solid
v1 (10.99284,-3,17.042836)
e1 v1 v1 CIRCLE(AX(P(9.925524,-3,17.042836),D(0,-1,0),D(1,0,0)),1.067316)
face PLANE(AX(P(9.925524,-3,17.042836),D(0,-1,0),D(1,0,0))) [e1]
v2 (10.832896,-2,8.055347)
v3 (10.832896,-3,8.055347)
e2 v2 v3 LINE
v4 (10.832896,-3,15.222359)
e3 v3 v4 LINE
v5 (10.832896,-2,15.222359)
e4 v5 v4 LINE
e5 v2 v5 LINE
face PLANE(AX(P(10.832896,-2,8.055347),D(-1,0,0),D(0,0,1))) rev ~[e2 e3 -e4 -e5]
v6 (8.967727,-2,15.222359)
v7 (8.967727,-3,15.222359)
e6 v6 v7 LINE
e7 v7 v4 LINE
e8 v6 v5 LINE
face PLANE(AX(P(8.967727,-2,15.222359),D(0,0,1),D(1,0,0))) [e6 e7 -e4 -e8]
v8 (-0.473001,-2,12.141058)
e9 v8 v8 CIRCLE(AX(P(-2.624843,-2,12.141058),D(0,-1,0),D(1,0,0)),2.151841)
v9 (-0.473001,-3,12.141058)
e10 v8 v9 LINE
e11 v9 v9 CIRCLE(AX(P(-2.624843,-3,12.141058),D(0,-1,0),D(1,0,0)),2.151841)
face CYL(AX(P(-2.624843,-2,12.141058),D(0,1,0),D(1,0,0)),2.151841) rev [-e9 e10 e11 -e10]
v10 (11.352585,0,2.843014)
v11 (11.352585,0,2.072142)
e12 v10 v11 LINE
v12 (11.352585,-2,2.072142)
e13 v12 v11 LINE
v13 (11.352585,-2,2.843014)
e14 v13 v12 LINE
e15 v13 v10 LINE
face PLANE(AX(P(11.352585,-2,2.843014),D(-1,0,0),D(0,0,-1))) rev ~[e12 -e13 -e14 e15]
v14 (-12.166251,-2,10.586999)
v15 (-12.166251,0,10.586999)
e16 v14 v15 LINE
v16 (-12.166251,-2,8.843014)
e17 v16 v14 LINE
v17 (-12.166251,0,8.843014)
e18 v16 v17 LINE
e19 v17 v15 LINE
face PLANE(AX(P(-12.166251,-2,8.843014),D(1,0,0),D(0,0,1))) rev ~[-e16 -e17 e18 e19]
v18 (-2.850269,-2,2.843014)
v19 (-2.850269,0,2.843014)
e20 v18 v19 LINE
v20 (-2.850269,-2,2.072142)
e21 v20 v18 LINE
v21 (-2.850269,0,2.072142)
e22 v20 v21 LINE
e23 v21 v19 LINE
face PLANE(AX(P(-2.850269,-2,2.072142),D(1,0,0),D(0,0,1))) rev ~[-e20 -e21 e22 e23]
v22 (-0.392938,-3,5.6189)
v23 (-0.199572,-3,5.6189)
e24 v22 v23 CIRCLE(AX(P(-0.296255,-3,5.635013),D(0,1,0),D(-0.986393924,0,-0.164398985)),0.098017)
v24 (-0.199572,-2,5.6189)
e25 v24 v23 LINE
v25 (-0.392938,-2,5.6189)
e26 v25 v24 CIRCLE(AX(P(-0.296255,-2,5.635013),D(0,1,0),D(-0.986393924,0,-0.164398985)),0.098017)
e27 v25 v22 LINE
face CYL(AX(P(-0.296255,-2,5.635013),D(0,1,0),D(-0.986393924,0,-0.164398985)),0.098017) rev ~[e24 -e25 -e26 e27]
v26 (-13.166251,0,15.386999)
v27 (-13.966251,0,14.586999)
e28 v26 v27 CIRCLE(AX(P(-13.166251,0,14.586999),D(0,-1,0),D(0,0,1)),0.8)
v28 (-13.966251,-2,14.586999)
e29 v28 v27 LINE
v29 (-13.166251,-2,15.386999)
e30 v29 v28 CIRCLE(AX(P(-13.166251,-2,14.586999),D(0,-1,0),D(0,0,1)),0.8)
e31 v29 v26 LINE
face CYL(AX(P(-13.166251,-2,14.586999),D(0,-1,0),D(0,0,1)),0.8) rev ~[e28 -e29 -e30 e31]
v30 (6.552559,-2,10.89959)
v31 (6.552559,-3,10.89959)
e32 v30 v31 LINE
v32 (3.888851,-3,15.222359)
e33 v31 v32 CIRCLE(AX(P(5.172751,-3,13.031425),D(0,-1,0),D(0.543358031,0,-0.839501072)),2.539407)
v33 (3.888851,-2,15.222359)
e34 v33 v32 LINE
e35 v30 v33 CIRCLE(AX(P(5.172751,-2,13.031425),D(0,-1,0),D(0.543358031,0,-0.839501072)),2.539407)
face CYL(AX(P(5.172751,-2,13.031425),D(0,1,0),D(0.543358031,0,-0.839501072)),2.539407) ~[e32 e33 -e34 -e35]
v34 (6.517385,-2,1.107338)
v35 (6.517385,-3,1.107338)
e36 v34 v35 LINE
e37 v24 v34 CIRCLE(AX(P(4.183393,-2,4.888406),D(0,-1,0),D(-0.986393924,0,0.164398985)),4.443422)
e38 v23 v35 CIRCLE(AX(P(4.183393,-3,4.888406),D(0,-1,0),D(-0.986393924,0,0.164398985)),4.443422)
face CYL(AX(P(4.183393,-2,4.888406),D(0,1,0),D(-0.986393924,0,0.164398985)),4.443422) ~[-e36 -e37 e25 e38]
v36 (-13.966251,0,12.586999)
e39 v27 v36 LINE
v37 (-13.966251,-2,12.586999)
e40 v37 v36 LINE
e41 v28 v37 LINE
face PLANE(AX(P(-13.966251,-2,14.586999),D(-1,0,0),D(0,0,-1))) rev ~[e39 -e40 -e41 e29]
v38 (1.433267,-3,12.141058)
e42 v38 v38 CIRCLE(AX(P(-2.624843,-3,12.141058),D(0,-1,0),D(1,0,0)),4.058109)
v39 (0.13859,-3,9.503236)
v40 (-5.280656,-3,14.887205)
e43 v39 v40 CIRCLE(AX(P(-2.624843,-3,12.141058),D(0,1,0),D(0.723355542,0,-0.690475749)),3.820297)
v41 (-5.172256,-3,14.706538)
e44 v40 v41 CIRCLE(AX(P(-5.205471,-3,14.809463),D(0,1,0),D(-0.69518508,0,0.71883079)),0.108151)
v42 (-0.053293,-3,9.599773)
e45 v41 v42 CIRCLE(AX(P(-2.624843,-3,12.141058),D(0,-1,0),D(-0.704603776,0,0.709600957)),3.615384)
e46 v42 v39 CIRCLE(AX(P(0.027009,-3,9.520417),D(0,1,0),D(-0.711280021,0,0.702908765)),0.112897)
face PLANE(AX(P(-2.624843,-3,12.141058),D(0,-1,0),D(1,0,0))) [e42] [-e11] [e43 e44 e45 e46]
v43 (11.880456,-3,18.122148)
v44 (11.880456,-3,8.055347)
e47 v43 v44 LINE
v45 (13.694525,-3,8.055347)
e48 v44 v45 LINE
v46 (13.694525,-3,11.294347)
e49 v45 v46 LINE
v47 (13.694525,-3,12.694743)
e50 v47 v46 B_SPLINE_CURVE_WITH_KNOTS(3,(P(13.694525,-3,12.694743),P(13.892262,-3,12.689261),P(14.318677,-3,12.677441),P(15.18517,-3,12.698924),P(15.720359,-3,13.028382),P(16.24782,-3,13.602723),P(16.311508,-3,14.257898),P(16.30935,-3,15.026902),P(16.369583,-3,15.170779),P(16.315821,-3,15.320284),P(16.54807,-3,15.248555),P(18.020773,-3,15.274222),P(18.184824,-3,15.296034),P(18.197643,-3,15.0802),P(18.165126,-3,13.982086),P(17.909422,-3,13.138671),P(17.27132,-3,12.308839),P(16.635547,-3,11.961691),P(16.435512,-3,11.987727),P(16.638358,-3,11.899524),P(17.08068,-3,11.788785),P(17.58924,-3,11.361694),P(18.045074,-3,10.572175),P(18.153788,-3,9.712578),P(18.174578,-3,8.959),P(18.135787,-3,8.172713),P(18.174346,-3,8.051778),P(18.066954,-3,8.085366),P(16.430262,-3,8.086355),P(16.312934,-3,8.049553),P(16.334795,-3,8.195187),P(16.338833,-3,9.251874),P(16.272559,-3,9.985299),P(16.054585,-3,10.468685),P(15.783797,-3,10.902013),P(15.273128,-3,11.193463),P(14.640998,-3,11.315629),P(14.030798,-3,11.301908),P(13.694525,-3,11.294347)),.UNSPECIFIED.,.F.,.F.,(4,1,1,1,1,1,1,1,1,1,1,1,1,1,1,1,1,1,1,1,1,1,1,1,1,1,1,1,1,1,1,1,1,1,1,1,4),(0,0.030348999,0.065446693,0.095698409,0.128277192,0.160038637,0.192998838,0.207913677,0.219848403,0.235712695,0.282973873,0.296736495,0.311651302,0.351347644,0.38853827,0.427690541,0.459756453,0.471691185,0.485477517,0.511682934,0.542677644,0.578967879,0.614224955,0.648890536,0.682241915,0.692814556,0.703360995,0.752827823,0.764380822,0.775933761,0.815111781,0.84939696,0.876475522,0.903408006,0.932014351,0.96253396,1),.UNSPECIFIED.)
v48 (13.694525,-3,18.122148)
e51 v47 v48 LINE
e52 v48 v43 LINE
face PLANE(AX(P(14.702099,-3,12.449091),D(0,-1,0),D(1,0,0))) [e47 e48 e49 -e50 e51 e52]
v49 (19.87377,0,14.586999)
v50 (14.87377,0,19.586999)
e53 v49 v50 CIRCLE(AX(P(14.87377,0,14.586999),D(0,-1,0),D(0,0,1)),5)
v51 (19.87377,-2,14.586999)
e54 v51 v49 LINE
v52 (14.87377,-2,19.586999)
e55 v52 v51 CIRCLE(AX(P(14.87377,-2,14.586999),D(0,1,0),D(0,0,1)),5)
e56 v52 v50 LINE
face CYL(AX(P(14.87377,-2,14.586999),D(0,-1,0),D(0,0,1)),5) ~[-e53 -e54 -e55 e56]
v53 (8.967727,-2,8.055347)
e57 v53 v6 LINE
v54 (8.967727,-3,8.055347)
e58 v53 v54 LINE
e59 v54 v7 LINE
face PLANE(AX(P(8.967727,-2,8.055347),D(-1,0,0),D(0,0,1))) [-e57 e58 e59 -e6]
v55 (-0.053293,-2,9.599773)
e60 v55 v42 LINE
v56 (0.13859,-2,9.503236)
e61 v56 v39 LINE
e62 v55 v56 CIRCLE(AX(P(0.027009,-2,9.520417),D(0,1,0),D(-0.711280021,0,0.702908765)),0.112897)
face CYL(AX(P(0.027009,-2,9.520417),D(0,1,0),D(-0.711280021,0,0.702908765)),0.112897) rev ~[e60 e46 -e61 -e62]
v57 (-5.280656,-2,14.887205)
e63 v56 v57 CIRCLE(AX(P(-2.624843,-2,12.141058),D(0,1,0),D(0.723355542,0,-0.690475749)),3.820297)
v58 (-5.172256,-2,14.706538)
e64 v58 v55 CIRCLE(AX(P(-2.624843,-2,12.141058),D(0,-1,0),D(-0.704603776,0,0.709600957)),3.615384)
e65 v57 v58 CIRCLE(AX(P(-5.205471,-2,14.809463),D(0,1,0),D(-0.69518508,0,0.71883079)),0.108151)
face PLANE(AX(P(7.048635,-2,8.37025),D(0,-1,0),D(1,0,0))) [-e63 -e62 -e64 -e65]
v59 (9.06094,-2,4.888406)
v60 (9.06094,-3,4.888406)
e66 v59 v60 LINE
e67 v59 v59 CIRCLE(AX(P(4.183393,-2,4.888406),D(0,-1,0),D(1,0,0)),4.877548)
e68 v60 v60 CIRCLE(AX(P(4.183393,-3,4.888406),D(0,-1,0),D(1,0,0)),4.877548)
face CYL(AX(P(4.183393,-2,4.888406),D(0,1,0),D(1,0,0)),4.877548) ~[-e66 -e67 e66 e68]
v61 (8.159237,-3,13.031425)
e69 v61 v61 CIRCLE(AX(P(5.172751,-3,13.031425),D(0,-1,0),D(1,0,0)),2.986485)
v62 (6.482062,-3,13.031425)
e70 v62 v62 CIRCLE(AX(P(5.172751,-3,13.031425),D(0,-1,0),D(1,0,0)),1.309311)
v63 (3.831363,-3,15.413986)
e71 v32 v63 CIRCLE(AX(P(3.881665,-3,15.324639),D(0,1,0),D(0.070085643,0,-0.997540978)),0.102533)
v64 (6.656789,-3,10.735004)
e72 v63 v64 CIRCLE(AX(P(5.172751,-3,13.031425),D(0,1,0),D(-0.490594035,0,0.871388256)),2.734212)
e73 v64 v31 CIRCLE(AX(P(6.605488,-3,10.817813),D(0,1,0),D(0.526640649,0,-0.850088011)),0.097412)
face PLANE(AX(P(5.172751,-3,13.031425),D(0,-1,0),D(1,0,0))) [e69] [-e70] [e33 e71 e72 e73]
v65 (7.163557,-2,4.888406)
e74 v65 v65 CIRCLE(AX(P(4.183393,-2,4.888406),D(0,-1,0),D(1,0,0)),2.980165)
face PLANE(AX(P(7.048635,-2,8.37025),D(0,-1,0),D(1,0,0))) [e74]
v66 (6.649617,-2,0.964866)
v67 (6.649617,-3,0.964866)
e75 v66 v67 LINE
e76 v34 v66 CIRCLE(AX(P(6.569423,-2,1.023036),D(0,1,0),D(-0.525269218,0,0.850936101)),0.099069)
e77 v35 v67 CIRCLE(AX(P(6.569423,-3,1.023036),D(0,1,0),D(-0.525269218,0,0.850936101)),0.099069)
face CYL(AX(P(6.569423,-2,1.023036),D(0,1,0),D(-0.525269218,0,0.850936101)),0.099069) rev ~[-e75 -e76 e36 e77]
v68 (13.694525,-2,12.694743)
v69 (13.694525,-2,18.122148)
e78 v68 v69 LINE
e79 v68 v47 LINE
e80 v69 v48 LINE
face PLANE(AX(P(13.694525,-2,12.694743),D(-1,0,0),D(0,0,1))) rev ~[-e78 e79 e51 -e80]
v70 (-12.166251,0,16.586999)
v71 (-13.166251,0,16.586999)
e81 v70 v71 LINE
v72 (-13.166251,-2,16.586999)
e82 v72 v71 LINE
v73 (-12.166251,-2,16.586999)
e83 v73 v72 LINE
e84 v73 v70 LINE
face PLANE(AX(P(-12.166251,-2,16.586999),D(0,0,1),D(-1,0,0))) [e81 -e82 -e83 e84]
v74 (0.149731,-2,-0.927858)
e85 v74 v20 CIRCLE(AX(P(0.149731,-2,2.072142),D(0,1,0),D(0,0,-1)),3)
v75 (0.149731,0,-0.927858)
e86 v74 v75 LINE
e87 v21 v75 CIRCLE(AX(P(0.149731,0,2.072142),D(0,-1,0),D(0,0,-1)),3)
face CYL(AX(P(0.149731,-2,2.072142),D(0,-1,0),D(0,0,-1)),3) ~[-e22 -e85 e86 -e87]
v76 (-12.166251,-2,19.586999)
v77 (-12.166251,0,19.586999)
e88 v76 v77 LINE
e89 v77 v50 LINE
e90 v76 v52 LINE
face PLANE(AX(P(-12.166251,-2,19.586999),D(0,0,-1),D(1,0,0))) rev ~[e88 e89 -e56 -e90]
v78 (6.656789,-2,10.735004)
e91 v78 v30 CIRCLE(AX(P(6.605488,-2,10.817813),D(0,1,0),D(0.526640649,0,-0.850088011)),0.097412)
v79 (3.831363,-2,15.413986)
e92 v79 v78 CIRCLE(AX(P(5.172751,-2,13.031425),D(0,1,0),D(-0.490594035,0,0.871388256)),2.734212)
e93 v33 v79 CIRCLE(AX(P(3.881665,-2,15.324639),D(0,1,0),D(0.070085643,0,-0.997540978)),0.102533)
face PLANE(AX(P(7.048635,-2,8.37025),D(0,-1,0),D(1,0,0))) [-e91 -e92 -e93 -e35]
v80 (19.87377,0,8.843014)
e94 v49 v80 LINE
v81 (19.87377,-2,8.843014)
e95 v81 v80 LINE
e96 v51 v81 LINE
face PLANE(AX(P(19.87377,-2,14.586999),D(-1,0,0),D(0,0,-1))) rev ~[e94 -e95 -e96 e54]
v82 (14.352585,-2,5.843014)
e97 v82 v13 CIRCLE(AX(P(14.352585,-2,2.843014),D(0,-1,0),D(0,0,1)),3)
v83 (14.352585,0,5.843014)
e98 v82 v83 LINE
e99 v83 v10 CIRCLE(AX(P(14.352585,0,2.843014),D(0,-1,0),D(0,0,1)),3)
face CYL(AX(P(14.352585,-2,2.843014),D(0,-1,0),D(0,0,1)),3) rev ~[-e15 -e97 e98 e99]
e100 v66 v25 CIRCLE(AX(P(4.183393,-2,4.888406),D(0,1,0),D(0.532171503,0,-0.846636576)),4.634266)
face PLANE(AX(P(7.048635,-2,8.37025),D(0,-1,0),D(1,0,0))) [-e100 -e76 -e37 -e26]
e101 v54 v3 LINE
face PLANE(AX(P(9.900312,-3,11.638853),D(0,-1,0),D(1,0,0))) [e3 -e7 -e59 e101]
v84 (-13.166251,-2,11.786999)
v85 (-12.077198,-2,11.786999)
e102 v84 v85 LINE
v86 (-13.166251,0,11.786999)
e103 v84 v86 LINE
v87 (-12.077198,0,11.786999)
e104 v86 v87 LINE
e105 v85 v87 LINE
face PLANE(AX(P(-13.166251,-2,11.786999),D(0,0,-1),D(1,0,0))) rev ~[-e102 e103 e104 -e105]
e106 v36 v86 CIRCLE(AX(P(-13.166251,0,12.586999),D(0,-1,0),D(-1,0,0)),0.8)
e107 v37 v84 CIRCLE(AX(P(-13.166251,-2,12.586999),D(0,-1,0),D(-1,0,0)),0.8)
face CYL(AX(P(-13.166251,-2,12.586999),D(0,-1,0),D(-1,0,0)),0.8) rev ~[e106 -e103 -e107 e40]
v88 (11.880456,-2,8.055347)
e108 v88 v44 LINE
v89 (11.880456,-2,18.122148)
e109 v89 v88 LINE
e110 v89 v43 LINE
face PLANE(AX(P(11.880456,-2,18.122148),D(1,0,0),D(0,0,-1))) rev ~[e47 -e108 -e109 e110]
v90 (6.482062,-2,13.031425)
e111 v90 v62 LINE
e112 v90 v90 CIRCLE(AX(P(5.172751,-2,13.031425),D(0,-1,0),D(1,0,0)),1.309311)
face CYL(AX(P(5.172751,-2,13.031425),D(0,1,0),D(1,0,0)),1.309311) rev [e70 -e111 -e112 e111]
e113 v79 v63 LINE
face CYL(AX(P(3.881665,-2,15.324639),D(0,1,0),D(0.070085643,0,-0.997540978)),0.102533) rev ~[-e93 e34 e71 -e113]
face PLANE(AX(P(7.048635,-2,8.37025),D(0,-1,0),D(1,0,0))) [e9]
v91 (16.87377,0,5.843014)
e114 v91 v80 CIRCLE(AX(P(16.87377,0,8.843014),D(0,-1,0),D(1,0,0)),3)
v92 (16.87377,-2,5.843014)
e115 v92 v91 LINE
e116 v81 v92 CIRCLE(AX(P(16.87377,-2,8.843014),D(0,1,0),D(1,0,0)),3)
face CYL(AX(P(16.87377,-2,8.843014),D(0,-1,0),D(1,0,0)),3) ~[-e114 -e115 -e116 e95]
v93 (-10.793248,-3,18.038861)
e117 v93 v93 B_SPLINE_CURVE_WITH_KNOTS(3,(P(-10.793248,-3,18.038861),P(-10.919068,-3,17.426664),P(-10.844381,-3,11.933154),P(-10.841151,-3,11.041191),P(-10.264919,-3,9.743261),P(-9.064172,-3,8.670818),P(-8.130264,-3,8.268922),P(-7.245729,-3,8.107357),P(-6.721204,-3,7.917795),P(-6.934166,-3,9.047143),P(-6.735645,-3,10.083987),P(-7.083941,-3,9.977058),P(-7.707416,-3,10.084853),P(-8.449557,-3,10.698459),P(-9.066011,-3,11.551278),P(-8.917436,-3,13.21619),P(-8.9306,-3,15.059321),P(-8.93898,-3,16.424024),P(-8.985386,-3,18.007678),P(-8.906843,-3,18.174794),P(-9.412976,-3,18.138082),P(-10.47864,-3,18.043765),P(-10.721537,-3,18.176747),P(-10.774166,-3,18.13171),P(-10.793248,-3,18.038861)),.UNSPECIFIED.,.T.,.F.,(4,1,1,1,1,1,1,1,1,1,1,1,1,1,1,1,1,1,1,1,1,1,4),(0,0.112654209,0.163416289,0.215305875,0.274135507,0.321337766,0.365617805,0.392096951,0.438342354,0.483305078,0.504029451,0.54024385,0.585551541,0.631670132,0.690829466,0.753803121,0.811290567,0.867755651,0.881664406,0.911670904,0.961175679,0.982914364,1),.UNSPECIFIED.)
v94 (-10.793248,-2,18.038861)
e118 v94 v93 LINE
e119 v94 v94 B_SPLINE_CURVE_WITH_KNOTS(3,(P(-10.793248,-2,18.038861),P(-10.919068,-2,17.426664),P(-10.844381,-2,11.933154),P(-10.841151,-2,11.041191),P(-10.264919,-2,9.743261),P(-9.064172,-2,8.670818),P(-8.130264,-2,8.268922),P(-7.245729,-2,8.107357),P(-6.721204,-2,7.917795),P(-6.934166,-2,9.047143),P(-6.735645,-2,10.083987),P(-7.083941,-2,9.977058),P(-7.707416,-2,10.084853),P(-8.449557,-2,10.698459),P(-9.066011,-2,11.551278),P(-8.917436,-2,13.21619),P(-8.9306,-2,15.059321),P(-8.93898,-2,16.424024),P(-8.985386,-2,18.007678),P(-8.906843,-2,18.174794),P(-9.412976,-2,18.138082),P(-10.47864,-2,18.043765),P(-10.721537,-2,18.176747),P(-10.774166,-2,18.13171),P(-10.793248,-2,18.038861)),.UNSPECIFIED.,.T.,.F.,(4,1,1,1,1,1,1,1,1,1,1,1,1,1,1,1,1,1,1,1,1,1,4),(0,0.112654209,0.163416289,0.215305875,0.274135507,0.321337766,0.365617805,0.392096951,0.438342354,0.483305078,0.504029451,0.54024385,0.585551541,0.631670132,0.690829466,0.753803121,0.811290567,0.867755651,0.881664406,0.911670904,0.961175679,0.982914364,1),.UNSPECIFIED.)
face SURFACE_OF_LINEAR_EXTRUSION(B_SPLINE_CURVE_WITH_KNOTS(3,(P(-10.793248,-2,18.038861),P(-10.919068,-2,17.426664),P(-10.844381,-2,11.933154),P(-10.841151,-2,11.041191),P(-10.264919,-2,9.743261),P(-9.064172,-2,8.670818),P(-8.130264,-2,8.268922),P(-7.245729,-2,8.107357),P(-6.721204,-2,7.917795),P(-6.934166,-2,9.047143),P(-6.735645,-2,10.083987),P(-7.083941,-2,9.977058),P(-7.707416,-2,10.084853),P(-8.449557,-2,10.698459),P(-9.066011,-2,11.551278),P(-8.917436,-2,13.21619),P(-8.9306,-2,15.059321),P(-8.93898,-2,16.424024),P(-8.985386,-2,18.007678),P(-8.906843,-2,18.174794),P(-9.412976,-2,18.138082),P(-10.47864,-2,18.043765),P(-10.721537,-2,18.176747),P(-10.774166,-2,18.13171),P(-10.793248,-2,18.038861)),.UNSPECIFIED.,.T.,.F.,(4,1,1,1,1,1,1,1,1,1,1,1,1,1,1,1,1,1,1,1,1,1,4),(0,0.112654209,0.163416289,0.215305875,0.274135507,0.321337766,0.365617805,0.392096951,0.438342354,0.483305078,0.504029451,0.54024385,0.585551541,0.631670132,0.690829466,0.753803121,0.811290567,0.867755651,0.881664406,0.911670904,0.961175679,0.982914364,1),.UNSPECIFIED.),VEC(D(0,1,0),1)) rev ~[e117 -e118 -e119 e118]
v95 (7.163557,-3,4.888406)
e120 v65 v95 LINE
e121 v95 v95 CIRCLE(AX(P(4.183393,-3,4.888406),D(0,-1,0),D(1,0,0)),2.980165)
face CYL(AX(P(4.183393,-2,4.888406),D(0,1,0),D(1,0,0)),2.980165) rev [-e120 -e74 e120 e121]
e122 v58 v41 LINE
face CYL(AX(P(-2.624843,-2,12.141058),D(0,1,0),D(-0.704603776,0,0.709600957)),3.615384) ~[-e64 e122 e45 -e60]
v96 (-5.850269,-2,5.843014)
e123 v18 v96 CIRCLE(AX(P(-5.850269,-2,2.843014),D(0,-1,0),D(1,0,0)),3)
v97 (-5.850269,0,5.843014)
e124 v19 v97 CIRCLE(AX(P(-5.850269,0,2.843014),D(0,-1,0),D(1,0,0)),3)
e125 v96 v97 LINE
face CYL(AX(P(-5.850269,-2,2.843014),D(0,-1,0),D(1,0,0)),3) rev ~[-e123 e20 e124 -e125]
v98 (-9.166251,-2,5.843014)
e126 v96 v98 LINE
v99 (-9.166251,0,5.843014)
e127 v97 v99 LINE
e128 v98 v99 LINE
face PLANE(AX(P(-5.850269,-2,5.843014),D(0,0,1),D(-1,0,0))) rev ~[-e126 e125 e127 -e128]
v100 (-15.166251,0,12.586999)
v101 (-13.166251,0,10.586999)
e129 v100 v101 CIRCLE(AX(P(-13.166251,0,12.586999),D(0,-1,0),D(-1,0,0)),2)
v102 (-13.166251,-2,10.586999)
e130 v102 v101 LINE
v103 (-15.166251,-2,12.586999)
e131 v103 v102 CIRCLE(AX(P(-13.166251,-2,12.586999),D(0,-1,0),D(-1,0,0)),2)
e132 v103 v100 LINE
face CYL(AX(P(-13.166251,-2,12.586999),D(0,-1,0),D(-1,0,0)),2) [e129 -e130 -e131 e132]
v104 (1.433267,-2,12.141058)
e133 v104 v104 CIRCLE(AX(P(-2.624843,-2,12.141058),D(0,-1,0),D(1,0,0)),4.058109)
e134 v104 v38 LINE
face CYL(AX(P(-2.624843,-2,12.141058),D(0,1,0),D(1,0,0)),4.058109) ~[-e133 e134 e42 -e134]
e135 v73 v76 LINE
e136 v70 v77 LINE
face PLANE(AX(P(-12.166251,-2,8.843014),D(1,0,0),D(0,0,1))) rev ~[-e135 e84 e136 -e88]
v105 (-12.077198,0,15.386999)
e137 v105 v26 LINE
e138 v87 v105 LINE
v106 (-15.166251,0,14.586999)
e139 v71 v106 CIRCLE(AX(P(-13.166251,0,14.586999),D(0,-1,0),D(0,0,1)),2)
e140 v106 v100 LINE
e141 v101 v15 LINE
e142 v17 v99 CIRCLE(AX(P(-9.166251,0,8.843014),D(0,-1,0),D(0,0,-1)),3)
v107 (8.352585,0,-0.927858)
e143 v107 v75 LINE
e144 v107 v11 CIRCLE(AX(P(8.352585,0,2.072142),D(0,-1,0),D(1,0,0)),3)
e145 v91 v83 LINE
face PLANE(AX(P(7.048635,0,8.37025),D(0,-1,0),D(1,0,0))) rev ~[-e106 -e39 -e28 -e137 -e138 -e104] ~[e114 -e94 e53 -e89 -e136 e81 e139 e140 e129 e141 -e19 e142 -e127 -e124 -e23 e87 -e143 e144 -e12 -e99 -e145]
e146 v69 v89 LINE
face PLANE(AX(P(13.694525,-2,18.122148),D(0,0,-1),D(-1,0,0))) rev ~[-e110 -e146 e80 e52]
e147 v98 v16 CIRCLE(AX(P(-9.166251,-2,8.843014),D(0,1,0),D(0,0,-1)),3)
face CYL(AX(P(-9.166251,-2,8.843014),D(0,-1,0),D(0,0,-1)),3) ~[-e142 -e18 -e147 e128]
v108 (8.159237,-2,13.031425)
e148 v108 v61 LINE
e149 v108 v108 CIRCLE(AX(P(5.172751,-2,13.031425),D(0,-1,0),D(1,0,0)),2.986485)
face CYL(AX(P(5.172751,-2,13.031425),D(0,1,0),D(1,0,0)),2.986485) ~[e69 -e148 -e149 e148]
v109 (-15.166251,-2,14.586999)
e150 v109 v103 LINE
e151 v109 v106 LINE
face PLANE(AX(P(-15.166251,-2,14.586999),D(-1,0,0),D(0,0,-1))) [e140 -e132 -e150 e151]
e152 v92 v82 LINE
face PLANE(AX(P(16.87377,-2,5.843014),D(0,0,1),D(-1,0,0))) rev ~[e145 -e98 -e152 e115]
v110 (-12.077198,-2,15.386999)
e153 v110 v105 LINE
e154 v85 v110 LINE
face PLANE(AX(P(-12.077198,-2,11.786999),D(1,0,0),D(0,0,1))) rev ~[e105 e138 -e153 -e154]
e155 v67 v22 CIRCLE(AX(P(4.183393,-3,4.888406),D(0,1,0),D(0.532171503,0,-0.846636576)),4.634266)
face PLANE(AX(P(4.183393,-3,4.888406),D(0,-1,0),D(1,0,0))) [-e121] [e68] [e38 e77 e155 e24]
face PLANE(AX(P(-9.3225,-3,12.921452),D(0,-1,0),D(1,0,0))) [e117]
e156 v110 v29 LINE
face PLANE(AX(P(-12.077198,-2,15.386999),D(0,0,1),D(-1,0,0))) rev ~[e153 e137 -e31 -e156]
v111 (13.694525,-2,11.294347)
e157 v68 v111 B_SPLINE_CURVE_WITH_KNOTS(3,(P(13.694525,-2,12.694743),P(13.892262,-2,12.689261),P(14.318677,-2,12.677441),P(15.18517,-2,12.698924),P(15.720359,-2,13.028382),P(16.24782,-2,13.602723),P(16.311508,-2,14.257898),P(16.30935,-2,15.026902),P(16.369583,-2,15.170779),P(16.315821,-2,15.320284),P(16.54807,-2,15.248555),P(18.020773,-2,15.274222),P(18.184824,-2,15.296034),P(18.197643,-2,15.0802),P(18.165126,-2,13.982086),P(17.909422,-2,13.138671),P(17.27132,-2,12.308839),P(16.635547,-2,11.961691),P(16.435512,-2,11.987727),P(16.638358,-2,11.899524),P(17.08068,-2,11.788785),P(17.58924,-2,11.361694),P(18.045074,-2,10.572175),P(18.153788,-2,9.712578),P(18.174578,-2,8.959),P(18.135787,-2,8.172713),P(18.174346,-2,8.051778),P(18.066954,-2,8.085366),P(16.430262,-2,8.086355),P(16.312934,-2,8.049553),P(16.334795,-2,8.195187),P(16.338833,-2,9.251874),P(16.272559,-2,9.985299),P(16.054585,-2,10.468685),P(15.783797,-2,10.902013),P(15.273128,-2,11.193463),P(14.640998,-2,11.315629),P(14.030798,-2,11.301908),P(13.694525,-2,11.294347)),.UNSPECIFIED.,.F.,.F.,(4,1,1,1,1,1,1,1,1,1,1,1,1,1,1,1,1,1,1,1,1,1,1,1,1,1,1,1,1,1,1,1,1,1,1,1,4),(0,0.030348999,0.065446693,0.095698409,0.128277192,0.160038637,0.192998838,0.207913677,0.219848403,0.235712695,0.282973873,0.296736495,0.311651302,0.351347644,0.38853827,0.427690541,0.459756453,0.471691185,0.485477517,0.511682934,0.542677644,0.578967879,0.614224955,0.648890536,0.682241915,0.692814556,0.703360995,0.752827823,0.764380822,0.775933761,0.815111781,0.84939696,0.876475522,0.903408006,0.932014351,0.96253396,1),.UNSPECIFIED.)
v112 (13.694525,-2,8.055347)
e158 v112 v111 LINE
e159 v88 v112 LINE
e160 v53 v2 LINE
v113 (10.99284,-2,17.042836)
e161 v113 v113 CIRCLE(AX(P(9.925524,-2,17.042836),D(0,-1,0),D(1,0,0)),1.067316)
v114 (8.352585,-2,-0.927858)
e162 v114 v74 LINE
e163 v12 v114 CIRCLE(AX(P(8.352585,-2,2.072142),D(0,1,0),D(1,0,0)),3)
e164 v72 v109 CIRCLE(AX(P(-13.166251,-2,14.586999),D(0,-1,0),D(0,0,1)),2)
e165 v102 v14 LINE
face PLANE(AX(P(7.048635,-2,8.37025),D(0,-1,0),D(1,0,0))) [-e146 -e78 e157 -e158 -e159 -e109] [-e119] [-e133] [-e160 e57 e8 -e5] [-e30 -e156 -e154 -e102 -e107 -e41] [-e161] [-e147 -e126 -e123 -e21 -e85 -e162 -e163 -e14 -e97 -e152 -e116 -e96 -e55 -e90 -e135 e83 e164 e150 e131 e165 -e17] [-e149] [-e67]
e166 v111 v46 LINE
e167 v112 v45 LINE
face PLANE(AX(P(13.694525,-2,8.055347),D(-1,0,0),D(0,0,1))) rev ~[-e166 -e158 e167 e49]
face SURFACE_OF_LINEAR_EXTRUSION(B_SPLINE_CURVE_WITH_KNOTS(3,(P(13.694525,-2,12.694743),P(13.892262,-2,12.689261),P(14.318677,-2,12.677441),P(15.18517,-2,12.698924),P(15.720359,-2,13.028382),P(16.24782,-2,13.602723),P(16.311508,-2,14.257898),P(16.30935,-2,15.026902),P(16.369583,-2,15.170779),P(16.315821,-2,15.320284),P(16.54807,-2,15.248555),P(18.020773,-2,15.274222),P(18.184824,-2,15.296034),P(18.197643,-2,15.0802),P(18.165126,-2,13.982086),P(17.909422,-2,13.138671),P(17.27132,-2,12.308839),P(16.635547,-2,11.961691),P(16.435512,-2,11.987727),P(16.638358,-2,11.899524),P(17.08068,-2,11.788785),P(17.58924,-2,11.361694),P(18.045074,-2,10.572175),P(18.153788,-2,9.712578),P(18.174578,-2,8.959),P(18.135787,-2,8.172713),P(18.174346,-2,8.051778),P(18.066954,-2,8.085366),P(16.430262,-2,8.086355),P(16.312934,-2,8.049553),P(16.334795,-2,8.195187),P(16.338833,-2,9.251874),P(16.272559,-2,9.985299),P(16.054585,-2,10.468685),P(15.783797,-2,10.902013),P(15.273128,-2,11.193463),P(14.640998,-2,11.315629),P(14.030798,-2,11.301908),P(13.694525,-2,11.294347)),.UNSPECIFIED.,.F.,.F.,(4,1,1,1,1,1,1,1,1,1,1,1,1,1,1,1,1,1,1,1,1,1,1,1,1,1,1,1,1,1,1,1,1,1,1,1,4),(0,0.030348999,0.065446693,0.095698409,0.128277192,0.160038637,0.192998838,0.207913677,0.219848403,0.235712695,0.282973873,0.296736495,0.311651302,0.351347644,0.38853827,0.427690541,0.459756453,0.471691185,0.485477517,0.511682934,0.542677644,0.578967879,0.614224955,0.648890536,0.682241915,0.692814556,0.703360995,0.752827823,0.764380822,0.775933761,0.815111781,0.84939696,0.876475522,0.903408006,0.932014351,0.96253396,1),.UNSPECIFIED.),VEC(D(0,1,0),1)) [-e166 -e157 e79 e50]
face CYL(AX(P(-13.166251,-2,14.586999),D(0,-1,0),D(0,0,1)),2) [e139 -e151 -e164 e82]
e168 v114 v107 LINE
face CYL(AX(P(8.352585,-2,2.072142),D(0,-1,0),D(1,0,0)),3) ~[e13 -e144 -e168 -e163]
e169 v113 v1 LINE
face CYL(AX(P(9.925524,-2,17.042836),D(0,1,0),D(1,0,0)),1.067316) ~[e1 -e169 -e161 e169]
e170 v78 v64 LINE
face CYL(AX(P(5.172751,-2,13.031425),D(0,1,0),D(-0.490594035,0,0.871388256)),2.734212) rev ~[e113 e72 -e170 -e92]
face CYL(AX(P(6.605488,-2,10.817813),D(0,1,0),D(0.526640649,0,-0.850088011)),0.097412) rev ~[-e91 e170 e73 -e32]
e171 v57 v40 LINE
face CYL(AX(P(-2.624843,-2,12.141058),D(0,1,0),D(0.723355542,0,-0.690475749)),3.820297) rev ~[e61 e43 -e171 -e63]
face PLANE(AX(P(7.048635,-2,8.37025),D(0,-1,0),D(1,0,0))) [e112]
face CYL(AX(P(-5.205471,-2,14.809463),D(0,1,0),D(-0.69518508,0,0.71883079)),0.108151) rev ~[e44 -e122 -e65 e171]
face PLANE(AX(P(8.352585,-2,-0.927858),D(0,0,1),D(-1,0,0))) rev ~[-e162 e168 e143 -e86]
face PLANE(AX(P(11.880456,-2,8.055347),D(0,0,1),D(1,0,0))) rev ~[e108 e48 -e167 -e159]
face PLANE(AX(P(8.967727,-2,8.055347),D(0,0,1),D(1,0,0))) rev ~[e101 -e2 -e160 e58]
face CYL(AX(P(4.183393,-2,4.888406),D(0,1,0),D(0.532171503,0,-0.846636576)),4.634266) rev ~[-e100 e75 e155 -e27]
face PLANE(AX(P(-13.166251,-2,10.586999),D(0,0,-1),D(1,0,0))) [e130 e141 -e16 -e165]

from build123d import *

# Parameters (mm, degrees)
F0_W     = 44.9469949032
F0_H     = 30
F1_DEPTH = 2
F2_W     = 1.8651690334
F2_H     = 7.1670114994
F2_R     = 1.067315765
F2_R_2   = 4.0581094523
F2_R_3   = 2.1518414097
F2_R_4   = 2.9864854467
F2_R_5   = 1.3093105905
F2_R_6   = 4.8775478885
F2_R_7   = 2.980164815
F3_DEPTH = 1
F4_W     = 57.7562209219
F4_H     = 35.8293848112
F5_DEPTH = 25
F7_DEPTH = 2
F9_DEPTH = 25


with BuildPart() as f1:
    # F0 (on Front) → F1 (new body)
    with BuildSketch(Plane.XZ):
        with Locations((7.0486348122, 8.3702504635)):
            Rectangle(F0_W, F0_H)
    extrude(amount=F1_DEPTH)

    # F2 (on face) → F3 (join)
    with BuildSketch(Plane.XZ.offset(2)):
        with Locations((9.9003119394, 11.6388527676)):
            Rectangle(F2_W, F2_H)
        with BuildLine():
            Line((13.694524765, 18.1221477687), (11.88045647, 18.1221477687))
            Line((11.88045647, 18.1221477687), (11.88045647, 8.0553470179))
            Line((11.88045647, 8.0553470179), (13.694524765, 8.0553470179))
            Line((13.694524765, 8.0553470179), (13.694524765, 11.2943472341))
            add(Edge.make_bspline(
                [(13.694524765, 12.6947425306), (13.8922622837, 12.6892612345), (14.3186772236, 12.6774409863), (15.1851700358, 12.698923905), (15.7203585152, 13.0283820708), (16.2478201859, 13.6027233466), (16.3115081909, 14.2578981166), (16.3093501538, 15.0269017308), (16.3695826075, 15.1707792062), (16.3158211879, 15.3202838057), (16.5480700556, 15.2485546915), (18.020772997, 15.2742221693), (18.1848235853, 15.2960336524), (18.197642655, 15.0802001649), (18.1651257533, 13.9820863427), (17.9094222924, 13.1386706467), (17.2713200103, 12.3088393669), (16.635547389, 11.9616905242), (16.4355119122, 11.9877272515), (16.6383577635, 11.8995242605), (17.0806802995, 11.7887847234), (17.5892396619, 11.3616944064), (18.0450740407, 10.5721746334), (18.1537878107, 9.712578281), (18.174578153, 8.9589996658), (18.1357866986, 8.1727128507), (18.1743463955, 8.0517775535), (18.0669540979, 8.0853657917), (16.4302617281, 8.086354645), (16.3129341368, 8.0495532269), (16.3347946696, 8.1951871638), (16.338832697, 9.2518740152), (16.2725591156, 9.985299174), (16.0545848736, 10.4686853224), (15.783796672, 10.902012743), (15.2731276001, 11.1934634572), (14.6409976969, 11.3156289767), (14.030798113, 11.3019084464), (13.694524765, 11.2943472341)],
                knots=[0, 0, 0, 0, 0.0303489992, 0.065446693, 0.0956984092, 0.1282771923, 0.1600386374, 0.1929988377, 0.2079136771, 0.2198484029, 0.2357126949, 0.2829738732, 0.2967364951, 0.3116513021, 0.3513476439, 0.3885382702, 0.4276905406, 0.4597564527, 0.4716911848, 0.4854775166, 0.5116829343, 0.5426776435, 0.5789678787, 0.6142249545, 0.648890536, 0.6822419151, 0.6928145557, 0.7033609953, 0.7528278233, 0.7643808218, 0.7759337613, 0.815111781, 0.8493969595, 0.8764755218, 0.9034080064, 0.9320143506, 0.9625339601, 1, 1, 1, 1], degree=3))
            Line((13.694524765, 12.6947425306), (13.694524765, 18.1221477687))
        make_face()
        with Locations((9.9255237728, 17.0428361744)):
            Circle(F2_R)
        with Locations((-2.6248428039, 12.1410582215)):
            Circle(F2_R_2)
        with BuildLine():
            ThreePointArc((0.1385901968, 9.5032357946), (-5.3173653139, 9.4308937177), (-5.2806562744, 14.8872053251))
            ThreePointArc((-5.2806562744, 14.8872053251), (-5.1127319183, 14.8651061977), (-5.1722559147, 14.7065380588))
            ThreePointArc((-5.1722559147, 14.7065380588), (-5.1782537396, 9.5815479272), (-0.0532925045, 9.5997732295))
            ThreePointArc((-0.0532925045, 9.5997732295), (0.0777480074, 9.621269385), (0.1385901968, 9.5032357946))
        make_face(mode=Mode.SUBTRACT)
        with Locations((-2.6248428039, 12.1410582215)):
            Circle(F2_R_3, mode=Mode.SUBTRACT)
        with Locations((5.1727513783, 13.0314249545)):
            Circle(F2_R_4)
        with Locations((5.1727513783, 13.0314249545)):
            Circle(F2_R_5, mode=Mode.SUBTRACT)
        with BuildLine():
            ThreePointArc((6.5525587239, 10.8995898137), (7.3346676268, 14.3636064411), (3.8888512645, 15.2223585173))
            ThreePointArc((3.8888512645, 15.2223585173), (3.7834563018, 15.2951767586), (3.8313630503, 15.4139855877))
            ThreePointArc((3.8313630503, 15.4139855877), (7.5133292064, 14.4447944205), (6.6567892055, 10.7350039251))
            ThreePointArc((6.6567892055, 10.7350039251), (6.5231912274, 10.765694724), (6.5525587239, 10.8995898137))
        make_face(mode=Mode.SUBTRACT)
        with Locations((4.1833925061, 4.8884055577)):
            Circle(F2_R_6)
        with BuildLine():
            ThreePointArc((-0.3929379745, 5.618899595), (-0.2962548824, 5.7330301584), (-0.1995717903, 5.618899595))
            ThreePointArc((-0.1995717903, 5.618899595), (1.7058697, 1.199790871), (6.5173852163, 1.1073375088))
            ThreePointArc((6.5173852163, 1.1073375088), (6.6420365244, 1.0904304538), (6.6496168589, 0.9648663839))
            ThreePointArc((6.6496168589, 0.9648663839), (1.6283693653, 1.0221051353), (-0.3929379745, 5.618899595))
        make_face(mode=Mode.SUBTRACT)
        with Locations((4.1833925061, 4.8884055577)):
            Circle(F2_R_7, mode=Mode.SUBTRACT)
        with BuildLine():
            add(Edge.make_bspline(
                [(-10.7932484683, 18.0388610897), (-10.9190678486, 17.4266640194), (-10.8443808651, 11.9331536963), (-10.8411514679, 11.0411914224), (-10.2649185813, 9.7432609879), (-9.0641718015, 8.6708184143), (-8.1302641868, 8.268921607), (-7.2457292345, 8.1073566872), (-6.7212035602, 7.9177950291), (-6.934165694, 9.047142527), (-6.7356445665, 10.08398688), (-7.0839413624, 9.977057832), (-7.7074156288, 10.0848533824), (-8.4495574452, 10.6984587807), (-9.0660107848, 11.5512781245), (-8.9174361668, 13.2161903268), (-8.9305999935, 15.0593214739), (-8.938980308, 16.4240235647), (-8.9853863781, 18.0076776154), (-8.9068434548, 18.174794211), (-9.412976346, 18.1380823461), (-10.4786403729, 18.0437646839), (-10.7215371373, 18.1767474153), (-10.7741661439, 18.1317096082), (-10.7932484683, 18.0388610897)],
                knots=[0, 0, 0, 0, 0.1126542094, 0.1634162886, 0.2153058746, 0.274135507, 0.3213377662, 0.3656178054, 0.3920969507, 0.4383423544, 0.4833050776, 0.5040294511, 0.5402438501, 0.5855515406, 0.6316701317, 0.690829466, 0.7538031213, 0.8112905675, 0.8677556511, 0.8816644063, 0.9116709036, 0.9611756792, 0.9829143638, 1, 1, 1, 1], degree=3))
        make_face()
    extrude(amount=F3_DEPTH)

    # F4 (on face) → F5 (cut)
    with BuildSketch(Plane.XZ.offset(2)):
        with Locations((8.5622230545, 7.9575902782)):
            Rectangle(F4_W, F4_H)
        with BuildLine():
            Line((-12.1662514284, 8.843013525), (-12.1662514284, 19.5869989693))
            Line((-12.1662514284, 19.5869989693), (14.8737699538, 19.5869989693))
            ThreePointArc((14.8737699538, 19.5869989693), (18.4093038598, 18.1225328752), (19.8737699538, 14.5869989693))
            Line((19.8737699538, 14.5869989693), (19.8737699538, 8.843013525))
            ThreePointArc((19.8737699538, 8.843013525), (18.9950902974, 6.7216931814), (16.8737699538, 5.843013525))
            Line((16.8737699538, 5.843013525), (14.3525846973, 5.843013525))
            ThreePointArc((14.3525846973, 5.843013525), (12.2312643537, 4.9643338686), (11.3525846973, 2.843013525))
            Line((11.3525846973, 2.843013525), (11.3525846973, 2.072142025))
            ThreePointArc((11.3525846973, 2.072142025), (10.4739050409, -0.0491783186), (8.3525846973, -0.927857975))
            Line((8.3525846973, -0.927857975), (0.1497307997, -0.927857975))
            ThreePointArc((0.1497307997, -0.927857975), (-1.9715895438, -0.0491783186), (-2.8502692003, 2.072142025))
            Line((-2.8502692003, 2.072142025), (-2.8502692003, 2.843013525))
            ThreePointArc((-2.8502692003, 2.843013525), (-3.7289488567, 4.9643338686), (-5.8502692003, 5.843013525))
            Line((-5.8502692003, 5.843013525), (-9.1662514284, 5.843013525))
            ThreePointArc((-9.1662514284, 5.843013525), (-11.287571772, 6.7216931814), (-12.1662514284, 8.843013525))
        make_face(mode=Mode.SUBTRACT)
    extrude(amount=-F5_DEPTH, mode=Mode.SUBTRACT)

    # F6 (on face) → F7 (join)
    with BuildSketch(Plane.XZ.offset(2)):
        with BuildLine():
            Line((-12.1662514284, 10.5869989693), (-12.1662514284, 16.5869989693))
            Line((-12.1662514284, 16.5869989693), (-13.1662514284, 16.5869989693))
            ThreePointArc((-13.1662514284, 16.5869989693), (-14.5804649908, 16.0012125317), (-15.1662514284, 14.5869989693))
            Line((-15.1662514284, 14.5869989693), (-15.1662514284, 12.5869989693))
            ThreePointArc((-15.1662514284, 12.5869989693), (-14.5804649908, 11.1727854069), (-13.1662514284, 10.5869989693))
            Line((-13.1662514284, 10.5869989693), (-12.1662514284, 10.5869989693))
        make_face()
    extrude(amount=-F7_DEPTH)

    # F8 (on face) → F9 (cut)
    with BuildSketch(Plane.XZ.offset(2)):
        with BuildLine():
            ThreePointArc((-13.9662514284, 12.5869989693), (-13.7319368534, 12.0213135444), (-13.1662514284, 11.7869989693))
            Line((-13.1662514284, 11.7869989693), (-12.0771983638, 11.7869989693))
            Line((-12.0771983638, 11.7869989693), (-12.0771983638, 15.3869989693))
            Line((-12.0771983638, 15.3869989693), (-13.1662514284, 15.3869989693))
            ThreePointArc((-13.1662514284, 15.3869989693), (-13.7319368534, 15.1526843943), (-13.9662514284, 14.5869989693))
            Line((-13.9662514284, 14.5869989693), (-13.9662514284, 12.5869989693))
        make_face()
    extrude(amount=-F9_DEPTH, mode=Mode.SUBTRACT)


solid = f1.part
